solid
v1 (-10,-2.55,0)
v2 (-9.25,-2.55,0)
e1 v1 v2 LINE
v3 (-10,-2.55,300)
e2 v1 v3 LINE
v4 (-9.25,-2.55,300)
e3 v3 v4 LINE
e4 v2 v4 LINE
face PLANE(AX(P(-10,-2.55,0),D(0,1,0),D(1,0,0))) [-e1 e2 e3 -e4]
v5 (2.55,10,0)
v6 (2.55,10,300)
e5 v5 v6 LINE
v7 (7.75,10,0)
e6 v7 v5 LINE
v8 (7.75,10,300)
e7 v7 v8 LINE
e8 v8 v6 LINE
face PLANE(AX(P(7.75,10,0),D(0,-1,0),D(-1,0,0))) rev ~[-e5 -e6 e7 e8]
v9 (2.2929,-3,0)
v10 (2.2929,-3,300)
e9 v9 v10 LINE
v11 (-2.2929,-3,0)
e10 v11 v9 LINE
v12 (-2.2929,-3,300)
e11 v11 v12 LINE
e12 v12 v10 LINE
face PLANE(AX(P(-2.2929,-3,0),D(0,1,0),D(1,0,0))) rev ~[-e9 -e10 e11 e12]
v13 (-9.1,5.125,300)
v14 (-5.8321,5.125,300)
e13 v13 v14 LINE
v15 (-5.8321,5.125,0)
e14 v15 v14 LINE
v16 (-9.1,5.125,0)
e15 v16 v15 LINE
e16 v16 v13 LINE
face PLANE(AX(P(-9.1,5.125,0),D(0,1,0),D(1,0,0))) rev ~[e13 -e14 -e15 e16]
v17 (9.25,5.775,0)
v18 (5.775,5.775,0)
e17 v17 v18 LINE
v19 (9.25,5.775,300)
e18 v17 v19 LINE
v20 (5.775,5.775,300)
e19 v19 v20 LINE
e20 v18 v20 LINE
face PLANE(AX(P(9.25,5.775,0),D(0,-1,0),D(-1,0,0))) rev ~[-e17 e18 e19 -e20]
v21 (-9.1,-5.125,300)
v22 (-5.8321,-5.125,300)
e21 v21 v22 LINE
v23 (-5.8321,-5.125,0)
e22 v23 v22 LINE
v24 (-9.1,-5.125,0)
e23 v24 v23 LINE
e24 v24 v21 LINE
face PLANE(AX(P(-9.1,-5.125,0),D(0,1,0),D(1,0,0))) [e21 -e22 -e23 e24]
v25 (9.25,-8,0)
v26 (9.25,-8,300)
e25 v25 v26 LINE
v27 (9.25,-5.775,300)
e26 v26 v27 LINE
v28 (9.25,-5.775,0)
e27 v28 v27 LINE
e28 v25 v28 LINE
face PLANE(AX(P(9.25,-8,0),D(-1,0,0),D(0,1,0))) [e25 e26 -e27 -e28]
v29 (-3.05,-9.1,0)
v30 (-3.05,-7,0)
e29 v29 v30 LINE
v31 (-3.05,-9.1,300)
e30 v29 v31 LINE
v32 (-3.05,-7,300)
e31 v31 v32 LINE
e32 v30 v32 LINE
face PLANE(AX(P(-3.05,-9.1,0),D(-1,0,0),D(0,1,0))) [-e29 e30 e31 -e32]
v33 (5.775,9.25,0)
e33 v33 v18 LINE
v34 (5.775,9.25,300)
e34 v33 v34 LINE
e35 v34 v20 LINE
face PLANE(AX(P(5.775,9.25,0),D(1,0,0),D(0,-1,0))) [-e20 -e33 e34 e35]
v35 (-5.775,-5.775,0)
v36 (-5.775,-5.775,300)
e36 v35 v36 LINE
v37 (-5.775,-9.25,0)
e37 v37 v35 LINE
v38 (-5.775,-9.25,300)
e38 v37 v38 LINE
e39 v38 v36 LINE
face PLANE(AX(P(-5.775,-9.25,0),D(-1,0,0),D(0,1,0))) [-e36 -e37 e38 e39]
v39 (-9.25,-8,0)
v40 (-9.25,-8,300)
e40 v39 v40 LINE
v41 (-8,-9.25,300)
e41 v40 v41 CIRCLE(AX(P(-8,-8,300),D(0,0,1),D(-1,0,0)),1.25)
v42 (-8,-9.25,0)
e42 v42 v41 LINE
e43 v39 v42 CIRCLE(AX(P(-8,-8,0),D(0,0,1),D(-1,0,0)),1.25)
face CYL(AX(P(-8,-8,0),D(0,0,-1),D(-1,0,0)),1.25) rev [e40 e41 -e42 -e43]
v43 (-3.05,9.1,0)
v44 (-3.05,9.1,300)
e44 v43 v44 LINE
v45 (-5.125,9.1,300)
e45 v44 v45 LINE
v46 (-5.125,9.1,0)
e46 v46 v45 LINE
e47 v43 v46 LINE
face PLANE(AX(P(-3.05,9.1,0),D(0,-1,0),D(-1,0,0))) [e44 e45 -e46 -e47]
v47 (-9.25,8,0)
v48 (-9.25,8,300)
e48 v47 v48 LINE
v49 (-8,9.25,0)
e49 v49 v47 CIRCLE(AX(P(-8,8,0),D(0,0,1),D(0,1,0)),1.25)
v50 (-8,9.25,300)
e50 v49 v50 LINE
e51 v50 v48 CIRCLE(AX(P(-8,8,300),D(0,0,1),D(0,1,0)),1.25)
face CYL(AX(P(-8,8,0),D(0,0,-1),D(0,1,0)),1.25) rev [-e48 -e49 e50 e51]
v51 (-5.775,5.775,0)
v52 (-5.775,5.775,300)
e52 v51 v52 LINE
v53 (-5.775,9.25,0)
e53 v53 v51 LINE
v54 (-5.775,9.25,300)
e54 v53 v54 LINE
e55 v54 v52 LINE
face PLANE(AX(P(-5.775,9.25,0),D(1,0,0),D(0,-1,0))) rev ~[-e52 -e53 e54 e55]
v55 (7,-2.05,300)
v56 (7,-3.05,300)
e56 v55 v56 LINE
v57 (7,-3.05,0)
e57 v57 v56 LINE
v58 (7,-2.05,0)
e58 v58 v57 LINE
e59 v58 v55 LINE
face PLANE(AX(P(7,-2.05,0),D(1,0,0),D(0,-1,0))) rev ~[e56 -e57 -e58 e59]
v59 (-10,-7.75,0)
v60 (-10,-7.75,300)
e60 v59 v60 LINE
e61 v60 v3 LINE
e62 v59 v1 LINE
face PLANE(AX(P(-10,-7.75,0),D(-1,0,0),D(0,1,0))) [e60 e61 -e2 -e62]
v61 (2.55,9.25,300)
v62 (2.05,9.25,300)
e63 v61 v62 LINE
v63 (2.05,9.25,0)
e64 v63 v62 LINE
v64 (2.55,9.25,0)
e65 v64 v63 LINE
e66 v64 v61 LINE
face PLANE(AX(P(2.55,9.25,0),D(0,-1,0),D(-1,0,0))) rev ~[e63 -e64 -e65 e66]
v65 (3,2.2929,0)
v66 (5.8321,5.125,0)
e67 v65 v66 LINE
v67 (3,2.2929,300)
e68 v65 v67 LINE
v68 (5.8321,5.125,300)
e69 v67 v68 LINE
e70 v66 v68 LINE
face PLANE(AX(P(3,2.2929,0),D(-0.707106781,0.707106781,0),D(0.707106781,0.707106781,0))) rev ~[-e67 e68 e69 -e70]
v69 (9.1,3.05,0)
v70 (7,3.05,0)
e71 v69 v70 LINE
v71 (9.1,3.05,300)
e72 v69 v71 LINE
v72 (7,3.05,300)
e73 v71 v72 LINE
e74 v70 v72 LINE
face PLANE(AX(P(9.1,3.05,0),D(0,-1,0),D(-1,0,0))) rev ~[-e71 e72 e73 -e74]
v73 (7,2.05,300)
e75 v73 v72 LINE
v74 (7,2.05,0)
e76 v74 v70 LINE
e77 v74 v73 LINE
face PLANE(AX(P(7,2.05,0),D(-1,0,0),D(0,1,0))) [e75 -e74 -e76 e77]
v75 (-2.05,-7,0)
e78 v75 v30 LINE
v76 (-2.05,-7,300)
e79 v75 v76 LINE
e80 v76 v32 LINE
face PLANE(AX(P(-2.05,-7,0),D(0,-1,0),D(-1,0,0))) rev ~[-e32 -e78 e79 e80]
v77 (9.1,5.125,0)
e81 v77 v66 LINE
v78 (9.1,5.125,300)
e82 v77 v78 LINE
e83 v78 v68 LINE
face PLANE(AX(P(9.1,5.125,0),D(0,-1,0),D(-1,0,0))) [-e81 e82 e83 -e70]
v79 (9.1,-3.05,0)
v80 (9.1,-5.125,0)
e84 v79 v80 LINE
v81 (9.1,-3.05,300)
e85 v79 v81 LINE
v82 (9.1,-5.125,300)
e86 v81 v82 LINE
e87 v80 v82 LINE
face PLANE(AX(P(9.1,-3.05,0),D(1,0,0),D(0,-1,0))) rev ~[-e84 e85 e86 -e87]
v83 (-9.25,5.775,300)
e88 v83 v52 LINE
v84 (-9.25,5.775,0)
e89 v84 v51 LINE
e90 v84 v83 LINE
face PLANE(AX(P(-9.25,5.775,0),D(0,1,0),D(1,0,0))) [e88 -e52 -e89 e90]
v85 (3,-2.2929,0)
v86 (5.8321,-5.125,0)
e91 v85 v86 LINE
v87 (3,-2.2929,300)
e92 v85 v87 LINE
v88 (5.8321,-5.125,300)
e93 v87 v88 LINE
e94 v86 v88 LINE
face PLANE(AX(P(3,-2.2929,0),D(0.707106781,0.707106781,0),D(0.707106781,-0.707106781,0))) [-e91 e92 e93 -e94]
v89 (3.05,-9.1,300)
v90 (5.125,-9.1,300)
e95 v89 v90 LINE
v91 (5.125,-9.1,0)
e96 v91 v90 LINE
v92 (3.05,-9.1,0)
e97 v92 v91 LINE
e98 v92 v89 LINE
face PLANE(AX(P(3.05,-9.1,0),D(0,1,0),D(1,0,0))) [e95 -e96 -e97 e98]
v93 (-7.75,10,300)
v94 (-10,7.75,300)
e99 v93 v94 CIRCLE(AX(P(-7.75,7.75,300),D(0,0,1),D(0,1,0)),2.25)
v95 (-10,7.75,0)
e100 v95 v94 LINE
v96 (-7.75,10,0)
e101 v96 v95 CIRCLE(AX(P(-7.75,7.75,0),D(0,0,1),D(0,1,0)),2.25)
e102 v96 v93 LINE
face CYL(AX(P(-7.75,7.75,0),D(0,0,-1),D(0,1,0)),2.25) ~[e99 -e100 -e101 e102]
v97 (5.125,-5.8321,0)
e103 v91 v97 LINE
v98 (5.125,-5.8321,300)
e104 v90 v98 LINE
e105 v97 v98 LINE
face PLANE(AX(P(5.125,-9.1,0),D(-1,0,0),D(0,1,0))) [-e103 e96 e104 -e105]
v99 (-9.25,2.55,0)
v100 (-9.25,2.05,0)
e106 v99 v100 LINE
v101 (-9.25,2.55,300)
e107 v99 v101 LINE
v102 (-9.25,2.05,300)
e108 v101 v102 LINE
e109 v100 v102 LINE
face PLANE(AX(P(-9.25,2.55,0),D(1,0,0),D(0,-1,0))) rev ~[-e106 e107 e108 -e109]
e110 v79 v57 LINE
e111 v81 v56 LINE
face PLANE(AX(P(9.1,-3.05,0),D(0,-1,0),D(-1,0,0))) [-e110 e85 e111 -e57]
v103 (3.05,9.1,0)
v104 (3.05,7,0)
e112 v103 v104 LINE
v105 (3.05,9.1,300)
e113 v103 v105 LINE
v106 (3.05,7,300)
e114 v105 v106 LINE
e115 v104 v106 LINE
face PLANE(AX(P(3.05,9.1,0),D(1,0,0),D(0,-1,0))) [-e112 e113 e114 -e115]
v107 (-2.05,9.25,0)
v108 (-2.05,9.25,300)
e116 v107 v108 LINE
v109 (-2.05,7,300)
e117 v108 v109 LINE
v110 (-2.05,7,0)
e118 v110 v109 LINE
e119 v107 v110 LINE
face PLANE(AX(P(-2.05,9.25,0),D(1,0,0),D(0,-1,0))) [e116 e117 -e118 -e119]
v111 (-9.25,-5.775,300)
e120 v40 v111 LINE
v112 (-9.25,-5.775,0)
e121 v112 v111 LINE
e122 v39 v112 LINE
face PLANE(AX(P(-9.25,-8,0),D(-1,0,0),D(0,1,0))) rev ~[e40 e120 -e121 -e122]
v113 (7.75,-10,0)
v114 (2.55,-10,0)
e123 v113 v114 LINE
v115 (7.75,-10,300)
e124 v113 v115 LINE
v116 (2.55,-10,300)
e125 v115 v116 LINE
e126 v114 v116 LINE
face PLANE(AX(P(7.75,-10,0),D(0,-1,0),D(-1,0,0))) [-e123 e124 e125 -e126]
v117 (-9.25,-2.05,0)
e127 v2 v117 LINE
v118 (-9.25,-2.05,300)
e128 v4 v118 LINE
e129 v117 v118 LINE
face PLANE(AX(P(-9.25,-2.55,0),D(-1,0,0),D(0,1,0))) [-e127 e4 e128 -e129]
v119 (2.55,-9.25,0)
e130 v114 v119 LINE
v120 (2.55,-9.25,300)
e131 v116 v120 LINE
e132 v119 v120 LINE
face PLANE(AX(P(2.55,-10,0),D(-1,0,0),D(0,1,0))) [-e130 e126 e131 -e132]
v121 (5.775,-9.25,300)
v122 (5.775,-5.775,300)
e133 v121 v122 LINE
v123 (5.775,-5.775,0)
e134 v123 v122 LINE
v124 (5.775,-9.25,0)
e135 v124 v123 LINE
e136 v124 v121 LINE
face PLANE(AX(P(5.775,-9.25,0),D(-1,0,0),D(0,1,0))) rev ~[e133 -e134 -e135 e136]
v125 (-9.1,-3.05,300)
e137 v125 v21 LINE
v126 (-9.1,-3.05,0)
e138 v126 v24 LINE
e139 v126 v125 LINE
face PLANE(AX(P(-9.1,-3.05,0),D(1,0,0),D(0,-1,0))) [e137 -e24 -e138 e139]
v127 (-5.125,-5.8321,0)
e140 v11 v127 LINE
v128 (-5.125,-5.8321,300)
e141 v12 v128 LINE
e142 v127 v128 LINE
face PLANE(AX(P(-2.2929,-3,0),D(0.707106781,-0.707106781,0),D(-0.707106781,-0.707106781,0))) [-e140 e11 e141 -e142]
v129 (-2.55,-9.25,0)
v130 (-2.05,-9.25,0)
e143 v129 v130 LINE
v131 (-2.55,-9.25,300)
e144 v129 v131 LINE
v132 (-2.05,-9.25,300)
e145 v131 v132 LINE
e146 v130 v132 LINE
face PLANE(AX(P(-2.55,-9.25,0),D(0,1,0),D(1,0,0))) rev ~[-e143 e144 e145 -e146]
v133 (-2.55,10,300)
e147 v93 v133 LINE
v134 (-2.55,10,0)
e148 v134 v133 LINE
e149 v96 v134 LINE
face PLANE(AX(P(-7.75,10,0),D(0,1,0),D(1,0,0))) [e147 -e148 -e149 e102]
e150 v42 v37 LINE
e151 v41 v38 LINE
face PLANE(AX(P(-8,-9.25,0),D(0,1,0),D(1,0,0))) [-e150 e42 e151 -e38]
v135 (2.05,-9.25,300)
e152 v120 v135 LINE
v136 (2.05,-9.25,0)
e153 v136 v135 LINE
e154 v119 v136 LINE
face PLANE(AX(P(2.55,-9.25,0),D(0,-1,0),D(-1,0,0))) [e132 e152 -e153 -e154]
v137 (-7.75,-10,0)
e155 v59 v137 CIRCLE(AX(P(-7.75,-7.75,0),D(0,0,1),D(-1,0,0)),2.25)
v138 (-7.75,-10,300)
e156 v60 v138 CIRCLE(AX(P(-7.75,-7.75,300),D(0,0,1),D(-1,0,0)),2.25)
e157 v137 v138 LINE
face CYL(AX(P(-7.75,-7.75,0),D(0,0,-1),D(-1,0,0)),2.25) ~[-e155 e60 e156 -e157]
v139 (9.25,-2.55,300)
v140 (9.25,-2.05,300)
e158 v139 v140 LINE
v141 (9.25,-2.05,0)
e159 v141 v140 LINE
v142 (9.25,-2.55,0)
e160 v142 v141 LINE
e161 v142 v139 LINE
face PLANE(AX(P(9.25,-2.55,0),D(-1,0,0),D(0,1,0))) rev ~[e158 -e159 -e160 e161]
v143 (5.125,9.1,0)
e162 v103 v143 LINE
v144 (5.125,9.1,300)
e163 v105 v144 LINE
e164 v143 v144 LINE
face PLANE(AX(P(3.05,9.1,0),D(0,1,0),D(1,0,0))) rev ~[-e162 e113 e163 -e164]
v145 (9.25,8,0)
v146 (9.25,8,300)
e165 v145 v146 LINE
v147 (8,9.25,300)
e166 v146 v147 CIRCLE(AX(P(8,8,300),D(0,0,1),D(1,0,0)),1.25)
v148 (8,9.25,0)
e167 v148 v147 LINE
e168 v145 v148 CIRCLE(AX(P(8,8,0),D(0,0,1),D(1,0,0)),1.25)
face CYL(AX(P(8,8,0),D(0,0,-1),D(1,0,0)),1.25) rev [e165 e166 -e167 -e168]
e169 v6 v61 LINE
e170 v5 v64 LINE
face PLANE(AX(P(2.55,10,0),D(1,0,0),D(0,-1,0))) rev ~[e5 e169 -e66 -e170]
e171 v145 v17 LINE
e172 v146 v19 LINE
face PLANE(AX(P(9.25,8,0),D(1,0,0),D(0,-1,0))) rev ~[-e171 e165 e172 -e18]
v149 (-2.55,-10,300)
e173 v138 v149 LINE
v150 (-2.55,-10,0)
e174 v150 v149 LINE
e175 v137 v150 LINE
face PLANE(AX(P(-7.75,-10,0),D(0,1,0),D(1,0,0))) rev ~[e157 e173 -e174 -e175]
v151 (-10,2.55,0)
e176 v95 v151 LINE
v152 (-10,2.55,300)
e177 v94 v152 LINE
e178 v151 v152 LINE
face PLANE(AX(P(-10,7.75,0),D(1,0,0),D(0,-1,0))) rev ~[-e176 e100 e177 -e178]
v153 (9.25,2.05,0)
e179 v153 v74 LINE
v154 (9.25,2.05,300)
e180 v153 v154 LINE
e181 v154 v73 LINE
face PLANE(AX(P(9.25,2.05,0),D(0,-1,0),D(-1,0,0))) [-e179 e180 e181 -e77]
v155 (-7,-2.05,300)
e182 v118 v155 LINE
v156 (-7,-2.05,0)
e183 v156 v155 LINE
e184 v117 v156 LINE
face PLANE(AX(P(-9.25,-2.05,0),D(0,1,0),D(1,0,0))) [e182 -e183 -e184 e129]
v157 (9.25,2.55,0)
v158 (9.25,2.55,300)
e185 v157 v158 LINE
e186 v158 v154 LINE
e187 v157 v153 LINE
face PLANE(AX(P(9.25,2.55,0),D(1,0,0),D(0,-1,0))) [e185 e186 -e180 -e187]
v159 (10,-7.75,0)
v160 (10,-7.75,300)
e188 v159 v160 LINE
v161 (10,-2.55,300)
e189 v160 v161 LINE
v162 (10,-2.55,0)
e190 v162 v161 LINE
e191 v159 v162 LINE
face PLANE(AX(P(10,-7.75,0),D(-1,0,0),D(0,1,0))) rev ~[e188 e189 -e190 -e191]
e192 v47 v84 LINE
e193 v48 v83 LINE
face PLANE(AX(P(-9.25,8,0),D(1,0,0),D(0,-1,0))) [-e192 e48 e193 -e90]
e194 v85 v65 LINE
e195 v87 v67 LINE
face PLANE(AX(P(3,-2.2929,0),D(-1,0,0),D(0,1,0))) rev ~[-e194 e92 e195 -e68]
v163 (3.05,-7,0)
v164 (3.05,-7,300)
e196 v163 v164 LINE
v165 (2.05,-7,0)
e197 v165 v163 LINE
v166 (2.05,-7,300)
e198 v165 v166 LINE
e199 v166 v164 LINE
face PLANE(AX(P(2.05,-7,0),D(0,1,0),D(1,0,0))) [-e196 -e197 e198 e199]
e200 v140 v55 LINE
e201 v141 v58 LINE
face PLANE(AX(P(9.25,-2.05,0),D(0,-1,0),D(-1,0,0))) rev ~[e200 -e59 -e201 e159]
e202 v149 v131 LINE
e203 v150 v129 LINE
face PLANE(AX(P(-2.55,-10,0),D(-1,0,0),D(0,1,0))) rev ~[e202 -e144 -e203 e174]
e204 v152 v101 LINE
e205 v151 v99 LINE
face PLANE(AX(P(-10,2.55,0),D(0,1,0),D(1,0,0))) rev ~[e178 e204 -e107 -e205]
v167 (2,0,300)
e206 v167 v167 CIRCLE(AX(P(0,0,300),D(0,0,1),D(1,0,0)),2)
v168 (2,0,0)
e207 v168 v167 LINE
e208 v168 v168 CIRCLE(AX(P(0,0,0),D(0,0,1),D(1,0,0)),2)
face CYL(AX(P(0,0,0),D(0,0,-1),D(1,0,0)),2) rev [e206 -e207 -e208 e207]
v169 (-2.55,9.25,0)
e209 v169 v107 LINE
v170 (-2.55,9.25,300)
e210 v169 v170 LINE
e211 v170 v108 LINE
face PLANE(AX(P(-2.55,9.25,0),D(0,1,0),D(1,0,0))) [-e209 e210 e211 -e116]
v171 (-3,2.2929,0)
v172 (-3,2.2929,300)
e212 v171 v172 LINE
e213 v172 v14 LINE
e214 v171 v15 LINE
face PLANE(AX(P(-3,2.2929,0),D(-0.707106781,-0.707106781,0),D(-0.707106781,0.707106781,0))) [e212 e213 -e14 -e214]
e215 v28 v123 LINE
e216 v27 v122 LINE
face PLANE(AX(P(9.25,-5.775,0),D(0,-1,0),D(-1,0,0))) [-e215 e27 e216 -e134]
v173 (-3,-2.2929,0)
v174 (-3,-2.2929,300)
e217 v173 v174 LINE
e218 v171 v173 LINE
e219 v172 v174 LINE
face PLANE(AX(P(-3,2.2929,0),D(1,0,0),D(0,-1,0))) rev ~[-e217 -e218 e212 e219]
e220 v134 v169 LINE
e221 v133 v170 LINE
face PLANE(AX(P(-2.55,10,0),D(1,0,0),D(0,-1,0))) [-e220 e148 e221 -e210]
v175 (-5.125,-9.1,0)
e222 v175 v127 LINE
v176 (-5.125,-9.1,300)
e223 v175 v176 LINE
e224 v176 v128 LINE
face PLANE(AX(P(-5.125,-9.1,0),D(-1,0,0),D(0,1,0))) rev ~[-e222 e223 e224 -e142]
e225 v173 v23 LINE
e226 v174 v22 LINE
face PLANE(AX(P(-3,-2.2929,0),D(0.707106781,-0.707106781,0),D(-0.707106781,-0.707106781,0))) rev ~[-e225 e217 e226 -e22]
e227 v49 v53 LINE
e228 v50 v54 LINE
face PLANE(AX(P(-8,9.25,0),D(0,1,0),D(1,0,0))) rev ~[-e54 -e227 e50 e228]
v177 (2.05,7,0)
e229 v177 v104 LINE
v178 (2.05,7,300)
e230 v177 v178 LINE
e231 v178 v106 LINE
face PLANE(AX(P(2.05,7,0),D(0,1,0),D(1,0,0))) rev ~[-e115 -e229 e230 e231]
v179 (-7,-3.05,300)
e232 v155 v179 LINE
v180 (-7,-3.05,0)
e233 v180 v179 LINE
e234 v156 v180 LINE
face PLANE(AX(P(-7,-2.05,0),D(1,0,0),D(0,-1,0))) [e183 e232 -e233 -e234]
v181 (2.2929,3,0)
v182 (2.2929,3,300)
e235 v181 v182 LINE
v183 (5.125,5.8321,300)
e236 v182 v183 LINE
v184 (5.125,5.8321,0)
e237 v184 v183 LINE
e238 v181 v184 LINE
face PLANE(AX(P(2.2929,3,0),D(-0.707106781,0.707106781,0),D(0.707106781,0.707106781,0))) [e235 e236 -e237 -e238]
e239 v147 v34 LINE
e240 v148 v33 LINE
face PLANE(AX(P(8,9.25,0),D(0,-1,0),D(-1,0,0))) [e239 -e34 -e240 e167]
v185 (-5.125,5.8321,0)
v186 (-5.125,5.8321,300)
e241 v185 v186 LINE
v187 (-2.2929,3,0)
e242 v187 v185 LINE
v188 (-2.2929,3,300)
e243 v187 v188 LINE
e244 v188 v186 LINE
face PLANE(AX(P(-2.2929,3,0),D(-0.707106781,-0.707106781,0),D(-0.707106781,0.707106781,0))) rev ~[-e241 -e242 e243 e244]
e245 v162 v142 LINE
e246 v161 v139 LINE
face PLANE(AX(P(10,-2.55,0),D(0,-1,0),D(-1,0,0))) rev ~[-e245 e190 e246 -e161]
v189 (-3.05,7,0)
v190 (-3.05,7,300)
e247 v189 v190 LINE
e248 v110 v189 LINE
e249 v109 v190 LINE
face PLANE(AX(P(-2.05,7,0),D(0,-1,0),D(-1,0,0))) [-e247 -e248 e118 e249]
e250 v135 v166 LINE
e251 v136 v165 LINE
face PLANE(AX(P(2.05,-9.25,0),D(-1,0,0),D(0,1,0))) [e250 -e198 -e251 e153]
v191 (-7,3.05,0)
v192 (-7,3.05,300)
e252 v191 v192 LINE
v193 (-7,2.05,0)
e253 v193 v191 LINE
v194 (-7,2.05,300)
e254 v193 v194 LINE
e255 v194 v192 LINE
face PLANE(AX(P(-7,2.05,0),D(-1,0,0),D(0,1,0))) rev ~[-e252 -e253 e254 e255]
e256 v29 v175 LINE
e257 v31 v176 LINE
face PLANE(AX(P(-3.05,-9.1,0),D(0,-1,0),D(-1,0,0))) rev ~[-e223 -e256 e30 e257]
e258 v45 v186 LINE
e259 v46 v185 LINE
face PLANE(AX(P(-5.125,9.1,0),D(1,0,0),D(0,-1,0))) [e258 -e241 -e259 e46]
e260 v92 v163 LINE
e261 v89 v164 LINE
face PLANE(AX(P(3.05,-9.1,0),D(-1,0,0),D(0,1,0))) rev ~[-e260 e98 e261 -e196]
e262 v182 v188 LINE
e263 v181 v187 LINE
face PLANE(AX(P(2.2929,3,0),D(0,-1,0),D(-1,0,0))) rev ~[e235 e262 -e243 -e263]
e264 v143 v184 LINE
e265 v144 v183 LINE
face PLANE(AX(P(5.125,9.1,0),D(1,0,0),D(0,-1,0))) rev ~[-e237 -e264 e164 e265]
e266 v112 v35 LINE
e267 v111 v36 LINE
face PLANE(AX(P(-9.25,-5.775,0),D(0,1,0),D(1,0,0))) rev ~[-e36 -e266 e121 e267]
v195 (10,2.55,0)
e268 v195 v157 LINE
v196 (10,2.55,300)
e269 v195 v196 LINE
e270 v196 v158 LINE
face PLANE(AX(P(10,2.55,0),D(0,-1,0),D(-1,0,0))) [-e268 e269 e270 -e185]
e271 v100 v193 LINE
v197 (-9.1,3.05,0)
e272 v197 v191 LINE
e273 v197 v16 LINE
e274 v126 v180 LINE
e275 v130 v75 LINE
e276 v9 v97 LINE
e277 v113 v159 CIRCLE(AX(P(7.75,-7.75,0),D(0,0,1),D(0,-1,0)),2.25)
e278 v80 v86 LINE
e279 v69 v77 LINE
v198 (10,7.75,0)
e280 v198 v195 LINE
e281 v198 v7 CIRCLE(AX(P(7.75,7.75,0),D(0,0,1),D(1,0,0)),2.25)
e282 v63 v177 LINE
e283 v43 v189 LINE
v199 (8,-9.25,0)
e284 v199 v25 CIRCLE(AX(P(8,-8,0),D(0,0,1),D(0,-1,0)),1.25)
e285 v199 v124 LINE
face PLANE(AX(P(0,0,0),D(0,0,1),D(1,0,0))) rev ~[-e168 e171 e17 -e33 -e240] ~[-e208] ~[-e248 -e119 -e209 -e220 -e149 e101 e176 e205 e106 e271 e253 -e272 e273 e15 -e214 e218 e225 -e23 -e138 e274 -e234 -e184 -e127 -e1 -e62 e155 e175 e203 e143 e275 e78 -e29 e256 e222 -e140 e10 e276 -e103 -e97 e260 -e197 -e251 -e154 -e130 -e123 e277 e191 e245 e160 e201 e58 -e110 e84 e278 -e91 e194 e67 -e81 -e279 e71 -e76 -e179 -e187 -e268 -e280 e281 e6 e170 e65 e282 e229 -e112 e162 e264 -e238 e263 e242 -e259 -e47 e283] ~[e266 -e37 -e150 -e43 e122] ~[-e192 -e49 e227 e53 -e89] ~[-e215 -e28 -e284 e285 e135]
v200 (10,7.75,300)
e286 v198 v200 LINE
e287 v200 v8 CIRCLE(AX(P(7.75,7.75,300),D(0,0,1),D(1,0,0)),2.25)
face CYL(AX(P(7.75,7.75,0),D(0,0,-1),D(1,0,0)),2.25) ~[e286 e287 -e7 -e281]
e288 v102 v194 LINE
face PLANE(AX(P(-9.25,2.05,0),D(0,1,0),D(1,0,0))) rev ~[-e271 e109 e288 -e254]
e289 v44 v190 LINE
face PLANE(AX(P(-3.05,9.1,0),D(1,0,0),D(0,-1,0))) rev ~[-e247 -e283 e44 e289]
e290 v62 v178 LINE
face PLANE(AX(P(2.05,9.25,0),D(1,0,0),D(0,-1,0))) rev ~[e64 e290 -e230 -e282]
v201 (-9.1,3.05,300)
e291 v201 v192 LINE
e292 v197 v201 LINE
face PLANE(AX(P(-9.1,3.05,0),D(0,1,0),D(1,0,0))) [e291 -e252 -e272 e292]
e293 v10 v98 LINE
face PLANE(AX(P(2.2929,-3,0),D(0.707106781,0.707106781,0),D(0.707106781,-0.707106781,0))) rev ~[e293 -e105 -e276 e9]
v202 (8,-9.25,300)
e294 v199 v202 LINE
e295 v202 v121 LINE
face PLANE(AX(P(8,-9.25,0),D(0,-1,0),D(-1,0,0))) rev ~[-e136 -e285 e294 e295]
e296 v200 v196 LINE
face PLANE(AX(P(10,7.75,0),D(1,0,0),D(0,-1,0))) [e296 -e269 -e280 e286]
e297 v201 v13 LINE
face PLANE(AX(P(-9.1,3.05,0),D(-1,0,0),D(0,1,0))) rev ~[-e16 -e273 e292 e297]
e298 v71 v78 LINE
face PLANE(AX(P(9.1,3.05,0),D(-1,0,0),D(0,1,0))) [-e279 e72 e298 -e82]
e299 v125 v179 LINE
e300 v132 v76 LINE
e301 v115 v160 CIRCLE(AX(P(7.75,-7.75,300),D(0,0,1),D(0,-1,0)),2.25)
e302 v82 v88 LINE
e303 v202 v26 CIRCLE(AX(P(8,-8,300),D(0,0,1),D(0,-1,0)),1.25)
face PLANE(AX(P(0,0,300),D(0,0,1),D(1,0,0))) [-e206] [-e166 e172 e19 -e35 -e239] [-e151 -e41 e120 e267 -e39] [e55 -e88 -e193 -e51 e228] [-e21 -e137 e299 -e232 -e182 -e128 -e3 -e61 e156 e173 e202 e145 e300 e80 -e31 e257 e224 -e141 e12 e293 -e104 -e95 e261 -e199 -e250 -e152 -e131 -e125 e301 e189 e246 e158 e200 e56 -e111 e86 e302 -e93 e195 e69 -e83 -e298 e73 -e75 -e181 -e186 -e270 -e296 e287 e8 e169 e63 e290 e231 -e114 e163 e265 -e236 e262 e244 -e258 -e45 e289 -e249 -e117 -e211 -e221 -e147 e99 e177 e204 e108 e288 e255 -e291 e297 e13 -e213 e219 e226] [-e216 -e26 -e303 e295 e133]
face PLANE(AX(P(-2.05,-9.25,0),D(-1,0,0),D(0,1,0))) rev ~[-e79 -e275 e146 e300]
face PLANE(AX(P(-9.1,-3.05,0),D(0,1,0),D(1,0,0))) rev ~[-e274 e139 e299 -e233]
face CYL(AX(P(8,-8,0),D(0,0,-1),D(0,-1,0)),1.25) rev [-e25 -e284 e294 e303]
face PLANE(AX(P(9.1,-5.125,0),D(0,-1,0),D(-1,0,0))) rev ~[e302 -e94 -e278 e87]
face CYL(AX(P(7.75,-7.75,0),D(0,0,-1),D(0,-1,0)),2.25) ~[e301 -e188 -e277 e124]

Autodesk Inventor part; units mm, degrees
ref_plane "YZ Plane" through (0, 0, 0) normal (1, 0, 0) x (0, 1, 0)
ref_plane "XZ Plane" through (0, 0, 0) normal (0, 1, 0) x (-1, 0, 0)
ref_plane "XY Plane" through (0, 0, 0) normal (0, 0, 1) x (1, 0, 0)
sketch "Sketch1" plane through (0, 0, 0) normal (0, 0, 1) x (1, 0, 0)
  line L0 (-2.55, -10) -> (-2.55, -9.25)
  line L1 (-2.55, -9.25) -> (-2.05, -9.25)
  line L2 (-7.75, -10) -> (-2.55, -10)
  line L3 (-2.05, -9.25) -> (-2.05, -7)
  line L4 (-2.05, -7) -> (-3.05, -7)
  line L5 (-3.05, -9.1) -> (-3.05, -7)
  line L6 (-3.05, -9.1) -> (-5.125, -9.1)
  line L7 (-5.125, -9.1) -> (-5.125, -5.8321)
  line L8 (-8, -9.25) -> (-5.775, -9.25)
  line L9 (-5.775, -9.25) -> (-5.775, -5.775)
  line L10 (-2.2929, -3) -> (2.2929, -3)
  line L11 (3, -2.2929) -> (3, 2.2929)
  line L12 (2.2929, 3) -> (-2.2929, 3)
  line L13 (-3, 2.2929) -> (-3, -2.2929)
  line L14 (-2.2929, -3) -> (-5.125, -5.8321)
  line L15 (-3, -2.2929) -> (-5.8321, -5.125)
  line L16 (-9.1, -5.125) -> (-5.8321, -5.125)
  line L17 (-9.25, -5.775) -> (-5.775, -5.775)
  line L18 (-9.25, -8) -> (-9.25, -5.775)
  line L19 (-10, -7.75) -> (-10, -2.55)
  line L20 (-9.1, -3.05) -> (-9.1, -5.125)
  line L21 (-9.1, -3.05) -> (-7, -3.05)
  line L22 (-9.25, -2.55) -> (-9.25, -2.05)
  line L23 (-9.25, -2.05) -> (-7, -2.05)
  line L24 (-7, -2.05) -> (-7, -3.05)
  line L25 (-10, -2.55) -> (-9.25, -2.55)
  arc A0 (-9.25, -8) -> (-8, -9.25) centre (-8, -8) ccw
  arc A1 (-10, -7.75) -> (-7.75, -10) centre (-7.75, -7.75) ccw
  line L26 (3, -2.2929) -> (5.8321, -5.125)
  line L27 (2.2929, -3) -> (5.125, -5.8321)
  line L28 (5.775, -9.25) -> (5.775, -5.775)
  line L29 (8, -9.25) -> (5.775, -9.25)
  line L30 (7.75, -10) -> (2.55, -10)
  line L31 (3.05, -9.1) -> (5.125, -9.1)
  line L32 (2.55, -10) -> (2.55, -9.25)
  line L33 (3.05, -9.1) -> (3.05, -7)
  line L34 (2.05, -9.25) -> (2.05, -7)
  line L35 (2.55, -9.25) -> (2.05, -9.25)
  line L36 (2.05, -7) -> (3.05, -7)
  line L37 (5.125, -9.1) -> (5.125, -5.8321)
  arc A2 (8, -9.25) -> (9.25, -8) centre (8, -8) ccw
  arc A3 (7.75, -10) -> (10, -7.75) centre (7.75, -7.75) ccw
  line L38 (9.25, -8) -> (9.25, -5.775)
  line L39 (10, -7.75) -> (10, -2.55)
  line L40 (9.25, -5.775) -> (5.775, -5.775)
  line L41 (9.1, -5.125) -> (5.8321, -5.125)
  line L42 (9.1, -3.05) -> (7, -3.05)
  line L43 (7, -2.05) -> (7, -3.05)
  line L44 (9.25, -2.05) -> (7, -2.05)
  line L45 (9.25, -2.55) -> (9.25, -2.05)
  line L46 (10, -2.55) -> (9.25, -2.55)
  line L47 (9.1, -3.05) -> (9.1, -5.125)
  line L48 (2.2929, 3) -> (5.125, 5.8321)
  line L49 (3, 2.2929) -> (5.8321, 5.125)
  line L50 (9.25, 5.775) -> (5.775, 5.775)
  line L51 (9.25, 8) -> (9.25, 5.775)
  line L52 (10, 7.75) -> (10, 2.55)
  line L53 (9.1, 3.05) -> (9.1, 5.125)
  line L54 (10, 2.55) -> (9.25, 2.55)
  line L55 (9.1, 3.05) -> (7, 3.05)
  line L56 (9.25, 2.05) -> (7, 2.05)
  line L57 (9.25, 2.55) -> (9.25, 2.05)
  line L58 (7, 2.05) -> (7, 3.05)
  line L59 (9.1, 5.125) -> (5.8321, 5.125)
  arc A4 (9.25, 8) -> (8, 9.25) centre (8, 8) ccw
  arc A5 (10, 7.75) -> (7.75, 10) centre (7.75, 7.75) ccw
  line L60 (8, 9.25) -> (5.775, 9.25)
  line L61 (7.75, 10) -> (2.55, 10)
  line L62 (5.775, 9.25) -> (5.775, 5.775)
  line L63 (5.125, 9.1) -> (5.125, 5.8321)
  line L64 (3.05, 9.1) -> (3.05, 7)
  line L65 (2.05, 7) -> (3.05, 7)
  line L66 (2.05, 9.25) -> (2.05, 7)
  line L67 (2.55, 9.25) -> (2.05, 9.25)
  line L68 (2.55, 10) -> (2.55, 9.25)
  line L69 (3.05, 9.1) -> (5.125, 9.1)
  line L70 (-3, 2.2929) -> (-5.8321, 5.125)
  line L71 (-2.2929, 3) -> (-5.125, 5.8321)
  line L72 (-5.775, 9.25) -> (-5.775, 5.775)
  line L73 (-8, 9.25) -> (-5.775, 9.25)
  line L74 (-7.75, 10) -> (-2.55, 10)
  line L75 (-3.05, 9.1) -> (-5.125, 9.1)
  line L76 (-2.55, 10) -> (-2.55, 9.25)
  line L77 (-3.05, 9.1) -> (-3.05, 7)
  line L78 (-2.05, 9.25) -> (-2.05, 7)
  line L79 (-2.55, 9.25) -> (-2.05, 9.25)
  line L80 (-2.05, 7) -> (-3.05, 7)
  line L81 (-5.125, 9.1) -> (-5.125, 5.8321)
  arc A6 (-8, 9.25) -> (-9.25, 8) centre (-8, 8) ccw
  arc A7 (-7.75, 10) -> (-10, 7.75) centre (-7.75, 7.75) ccw
  line L82 (-9.25, 8) -> (-9.25, 5.775)
  line L83 (-10, 7.75) -> (-10, 2.55)
  line L84 (-9.25, 5.775) -> (-5.775, 5.775)
  line L85 (-9.1, 5.125) -> (-5.8321, 5.125)
  line L86 (-9.1, 3.05) -> (-7, 3.05)
  line L87 (-7, 2.05) -> (-7, 3.05)
  line L88 (-9.25, 2.05) -> (-7, 2.05)
  line L89 (-9.25, 2.55) -> (-9.25, 2.05)
  line L90 (-10, 2.55) -> (-9.25, 2.55)
  line L91 (-9.1, 3.05) -> (-9.1, 5.125)
  circle A8 centre (0, 0) radius 2
  point P0 (-10, -10)
  point P1 (10, -10)
  point P2 (10, 10)
  point P3 (-10, 10)
  dimension "d2" = 0.75
  dimension "d3" = 7.45
  dimension "d4" = 2.25
  dimension "d5" = 1
  dimension "d6" = 2.1
  dimension "d7" = 0.75
  dimension "d8" = 0.65
  dimension "d9" = 1.25
  dimension "d10" = 2.25
  dimension "d11" = 360
  dimension "d12" = 4
  dimension "d13" = 20
extrude "Extrusion1" add sketch "Sketch1" along normal blind 300
properties part number "2020 dai 300"
